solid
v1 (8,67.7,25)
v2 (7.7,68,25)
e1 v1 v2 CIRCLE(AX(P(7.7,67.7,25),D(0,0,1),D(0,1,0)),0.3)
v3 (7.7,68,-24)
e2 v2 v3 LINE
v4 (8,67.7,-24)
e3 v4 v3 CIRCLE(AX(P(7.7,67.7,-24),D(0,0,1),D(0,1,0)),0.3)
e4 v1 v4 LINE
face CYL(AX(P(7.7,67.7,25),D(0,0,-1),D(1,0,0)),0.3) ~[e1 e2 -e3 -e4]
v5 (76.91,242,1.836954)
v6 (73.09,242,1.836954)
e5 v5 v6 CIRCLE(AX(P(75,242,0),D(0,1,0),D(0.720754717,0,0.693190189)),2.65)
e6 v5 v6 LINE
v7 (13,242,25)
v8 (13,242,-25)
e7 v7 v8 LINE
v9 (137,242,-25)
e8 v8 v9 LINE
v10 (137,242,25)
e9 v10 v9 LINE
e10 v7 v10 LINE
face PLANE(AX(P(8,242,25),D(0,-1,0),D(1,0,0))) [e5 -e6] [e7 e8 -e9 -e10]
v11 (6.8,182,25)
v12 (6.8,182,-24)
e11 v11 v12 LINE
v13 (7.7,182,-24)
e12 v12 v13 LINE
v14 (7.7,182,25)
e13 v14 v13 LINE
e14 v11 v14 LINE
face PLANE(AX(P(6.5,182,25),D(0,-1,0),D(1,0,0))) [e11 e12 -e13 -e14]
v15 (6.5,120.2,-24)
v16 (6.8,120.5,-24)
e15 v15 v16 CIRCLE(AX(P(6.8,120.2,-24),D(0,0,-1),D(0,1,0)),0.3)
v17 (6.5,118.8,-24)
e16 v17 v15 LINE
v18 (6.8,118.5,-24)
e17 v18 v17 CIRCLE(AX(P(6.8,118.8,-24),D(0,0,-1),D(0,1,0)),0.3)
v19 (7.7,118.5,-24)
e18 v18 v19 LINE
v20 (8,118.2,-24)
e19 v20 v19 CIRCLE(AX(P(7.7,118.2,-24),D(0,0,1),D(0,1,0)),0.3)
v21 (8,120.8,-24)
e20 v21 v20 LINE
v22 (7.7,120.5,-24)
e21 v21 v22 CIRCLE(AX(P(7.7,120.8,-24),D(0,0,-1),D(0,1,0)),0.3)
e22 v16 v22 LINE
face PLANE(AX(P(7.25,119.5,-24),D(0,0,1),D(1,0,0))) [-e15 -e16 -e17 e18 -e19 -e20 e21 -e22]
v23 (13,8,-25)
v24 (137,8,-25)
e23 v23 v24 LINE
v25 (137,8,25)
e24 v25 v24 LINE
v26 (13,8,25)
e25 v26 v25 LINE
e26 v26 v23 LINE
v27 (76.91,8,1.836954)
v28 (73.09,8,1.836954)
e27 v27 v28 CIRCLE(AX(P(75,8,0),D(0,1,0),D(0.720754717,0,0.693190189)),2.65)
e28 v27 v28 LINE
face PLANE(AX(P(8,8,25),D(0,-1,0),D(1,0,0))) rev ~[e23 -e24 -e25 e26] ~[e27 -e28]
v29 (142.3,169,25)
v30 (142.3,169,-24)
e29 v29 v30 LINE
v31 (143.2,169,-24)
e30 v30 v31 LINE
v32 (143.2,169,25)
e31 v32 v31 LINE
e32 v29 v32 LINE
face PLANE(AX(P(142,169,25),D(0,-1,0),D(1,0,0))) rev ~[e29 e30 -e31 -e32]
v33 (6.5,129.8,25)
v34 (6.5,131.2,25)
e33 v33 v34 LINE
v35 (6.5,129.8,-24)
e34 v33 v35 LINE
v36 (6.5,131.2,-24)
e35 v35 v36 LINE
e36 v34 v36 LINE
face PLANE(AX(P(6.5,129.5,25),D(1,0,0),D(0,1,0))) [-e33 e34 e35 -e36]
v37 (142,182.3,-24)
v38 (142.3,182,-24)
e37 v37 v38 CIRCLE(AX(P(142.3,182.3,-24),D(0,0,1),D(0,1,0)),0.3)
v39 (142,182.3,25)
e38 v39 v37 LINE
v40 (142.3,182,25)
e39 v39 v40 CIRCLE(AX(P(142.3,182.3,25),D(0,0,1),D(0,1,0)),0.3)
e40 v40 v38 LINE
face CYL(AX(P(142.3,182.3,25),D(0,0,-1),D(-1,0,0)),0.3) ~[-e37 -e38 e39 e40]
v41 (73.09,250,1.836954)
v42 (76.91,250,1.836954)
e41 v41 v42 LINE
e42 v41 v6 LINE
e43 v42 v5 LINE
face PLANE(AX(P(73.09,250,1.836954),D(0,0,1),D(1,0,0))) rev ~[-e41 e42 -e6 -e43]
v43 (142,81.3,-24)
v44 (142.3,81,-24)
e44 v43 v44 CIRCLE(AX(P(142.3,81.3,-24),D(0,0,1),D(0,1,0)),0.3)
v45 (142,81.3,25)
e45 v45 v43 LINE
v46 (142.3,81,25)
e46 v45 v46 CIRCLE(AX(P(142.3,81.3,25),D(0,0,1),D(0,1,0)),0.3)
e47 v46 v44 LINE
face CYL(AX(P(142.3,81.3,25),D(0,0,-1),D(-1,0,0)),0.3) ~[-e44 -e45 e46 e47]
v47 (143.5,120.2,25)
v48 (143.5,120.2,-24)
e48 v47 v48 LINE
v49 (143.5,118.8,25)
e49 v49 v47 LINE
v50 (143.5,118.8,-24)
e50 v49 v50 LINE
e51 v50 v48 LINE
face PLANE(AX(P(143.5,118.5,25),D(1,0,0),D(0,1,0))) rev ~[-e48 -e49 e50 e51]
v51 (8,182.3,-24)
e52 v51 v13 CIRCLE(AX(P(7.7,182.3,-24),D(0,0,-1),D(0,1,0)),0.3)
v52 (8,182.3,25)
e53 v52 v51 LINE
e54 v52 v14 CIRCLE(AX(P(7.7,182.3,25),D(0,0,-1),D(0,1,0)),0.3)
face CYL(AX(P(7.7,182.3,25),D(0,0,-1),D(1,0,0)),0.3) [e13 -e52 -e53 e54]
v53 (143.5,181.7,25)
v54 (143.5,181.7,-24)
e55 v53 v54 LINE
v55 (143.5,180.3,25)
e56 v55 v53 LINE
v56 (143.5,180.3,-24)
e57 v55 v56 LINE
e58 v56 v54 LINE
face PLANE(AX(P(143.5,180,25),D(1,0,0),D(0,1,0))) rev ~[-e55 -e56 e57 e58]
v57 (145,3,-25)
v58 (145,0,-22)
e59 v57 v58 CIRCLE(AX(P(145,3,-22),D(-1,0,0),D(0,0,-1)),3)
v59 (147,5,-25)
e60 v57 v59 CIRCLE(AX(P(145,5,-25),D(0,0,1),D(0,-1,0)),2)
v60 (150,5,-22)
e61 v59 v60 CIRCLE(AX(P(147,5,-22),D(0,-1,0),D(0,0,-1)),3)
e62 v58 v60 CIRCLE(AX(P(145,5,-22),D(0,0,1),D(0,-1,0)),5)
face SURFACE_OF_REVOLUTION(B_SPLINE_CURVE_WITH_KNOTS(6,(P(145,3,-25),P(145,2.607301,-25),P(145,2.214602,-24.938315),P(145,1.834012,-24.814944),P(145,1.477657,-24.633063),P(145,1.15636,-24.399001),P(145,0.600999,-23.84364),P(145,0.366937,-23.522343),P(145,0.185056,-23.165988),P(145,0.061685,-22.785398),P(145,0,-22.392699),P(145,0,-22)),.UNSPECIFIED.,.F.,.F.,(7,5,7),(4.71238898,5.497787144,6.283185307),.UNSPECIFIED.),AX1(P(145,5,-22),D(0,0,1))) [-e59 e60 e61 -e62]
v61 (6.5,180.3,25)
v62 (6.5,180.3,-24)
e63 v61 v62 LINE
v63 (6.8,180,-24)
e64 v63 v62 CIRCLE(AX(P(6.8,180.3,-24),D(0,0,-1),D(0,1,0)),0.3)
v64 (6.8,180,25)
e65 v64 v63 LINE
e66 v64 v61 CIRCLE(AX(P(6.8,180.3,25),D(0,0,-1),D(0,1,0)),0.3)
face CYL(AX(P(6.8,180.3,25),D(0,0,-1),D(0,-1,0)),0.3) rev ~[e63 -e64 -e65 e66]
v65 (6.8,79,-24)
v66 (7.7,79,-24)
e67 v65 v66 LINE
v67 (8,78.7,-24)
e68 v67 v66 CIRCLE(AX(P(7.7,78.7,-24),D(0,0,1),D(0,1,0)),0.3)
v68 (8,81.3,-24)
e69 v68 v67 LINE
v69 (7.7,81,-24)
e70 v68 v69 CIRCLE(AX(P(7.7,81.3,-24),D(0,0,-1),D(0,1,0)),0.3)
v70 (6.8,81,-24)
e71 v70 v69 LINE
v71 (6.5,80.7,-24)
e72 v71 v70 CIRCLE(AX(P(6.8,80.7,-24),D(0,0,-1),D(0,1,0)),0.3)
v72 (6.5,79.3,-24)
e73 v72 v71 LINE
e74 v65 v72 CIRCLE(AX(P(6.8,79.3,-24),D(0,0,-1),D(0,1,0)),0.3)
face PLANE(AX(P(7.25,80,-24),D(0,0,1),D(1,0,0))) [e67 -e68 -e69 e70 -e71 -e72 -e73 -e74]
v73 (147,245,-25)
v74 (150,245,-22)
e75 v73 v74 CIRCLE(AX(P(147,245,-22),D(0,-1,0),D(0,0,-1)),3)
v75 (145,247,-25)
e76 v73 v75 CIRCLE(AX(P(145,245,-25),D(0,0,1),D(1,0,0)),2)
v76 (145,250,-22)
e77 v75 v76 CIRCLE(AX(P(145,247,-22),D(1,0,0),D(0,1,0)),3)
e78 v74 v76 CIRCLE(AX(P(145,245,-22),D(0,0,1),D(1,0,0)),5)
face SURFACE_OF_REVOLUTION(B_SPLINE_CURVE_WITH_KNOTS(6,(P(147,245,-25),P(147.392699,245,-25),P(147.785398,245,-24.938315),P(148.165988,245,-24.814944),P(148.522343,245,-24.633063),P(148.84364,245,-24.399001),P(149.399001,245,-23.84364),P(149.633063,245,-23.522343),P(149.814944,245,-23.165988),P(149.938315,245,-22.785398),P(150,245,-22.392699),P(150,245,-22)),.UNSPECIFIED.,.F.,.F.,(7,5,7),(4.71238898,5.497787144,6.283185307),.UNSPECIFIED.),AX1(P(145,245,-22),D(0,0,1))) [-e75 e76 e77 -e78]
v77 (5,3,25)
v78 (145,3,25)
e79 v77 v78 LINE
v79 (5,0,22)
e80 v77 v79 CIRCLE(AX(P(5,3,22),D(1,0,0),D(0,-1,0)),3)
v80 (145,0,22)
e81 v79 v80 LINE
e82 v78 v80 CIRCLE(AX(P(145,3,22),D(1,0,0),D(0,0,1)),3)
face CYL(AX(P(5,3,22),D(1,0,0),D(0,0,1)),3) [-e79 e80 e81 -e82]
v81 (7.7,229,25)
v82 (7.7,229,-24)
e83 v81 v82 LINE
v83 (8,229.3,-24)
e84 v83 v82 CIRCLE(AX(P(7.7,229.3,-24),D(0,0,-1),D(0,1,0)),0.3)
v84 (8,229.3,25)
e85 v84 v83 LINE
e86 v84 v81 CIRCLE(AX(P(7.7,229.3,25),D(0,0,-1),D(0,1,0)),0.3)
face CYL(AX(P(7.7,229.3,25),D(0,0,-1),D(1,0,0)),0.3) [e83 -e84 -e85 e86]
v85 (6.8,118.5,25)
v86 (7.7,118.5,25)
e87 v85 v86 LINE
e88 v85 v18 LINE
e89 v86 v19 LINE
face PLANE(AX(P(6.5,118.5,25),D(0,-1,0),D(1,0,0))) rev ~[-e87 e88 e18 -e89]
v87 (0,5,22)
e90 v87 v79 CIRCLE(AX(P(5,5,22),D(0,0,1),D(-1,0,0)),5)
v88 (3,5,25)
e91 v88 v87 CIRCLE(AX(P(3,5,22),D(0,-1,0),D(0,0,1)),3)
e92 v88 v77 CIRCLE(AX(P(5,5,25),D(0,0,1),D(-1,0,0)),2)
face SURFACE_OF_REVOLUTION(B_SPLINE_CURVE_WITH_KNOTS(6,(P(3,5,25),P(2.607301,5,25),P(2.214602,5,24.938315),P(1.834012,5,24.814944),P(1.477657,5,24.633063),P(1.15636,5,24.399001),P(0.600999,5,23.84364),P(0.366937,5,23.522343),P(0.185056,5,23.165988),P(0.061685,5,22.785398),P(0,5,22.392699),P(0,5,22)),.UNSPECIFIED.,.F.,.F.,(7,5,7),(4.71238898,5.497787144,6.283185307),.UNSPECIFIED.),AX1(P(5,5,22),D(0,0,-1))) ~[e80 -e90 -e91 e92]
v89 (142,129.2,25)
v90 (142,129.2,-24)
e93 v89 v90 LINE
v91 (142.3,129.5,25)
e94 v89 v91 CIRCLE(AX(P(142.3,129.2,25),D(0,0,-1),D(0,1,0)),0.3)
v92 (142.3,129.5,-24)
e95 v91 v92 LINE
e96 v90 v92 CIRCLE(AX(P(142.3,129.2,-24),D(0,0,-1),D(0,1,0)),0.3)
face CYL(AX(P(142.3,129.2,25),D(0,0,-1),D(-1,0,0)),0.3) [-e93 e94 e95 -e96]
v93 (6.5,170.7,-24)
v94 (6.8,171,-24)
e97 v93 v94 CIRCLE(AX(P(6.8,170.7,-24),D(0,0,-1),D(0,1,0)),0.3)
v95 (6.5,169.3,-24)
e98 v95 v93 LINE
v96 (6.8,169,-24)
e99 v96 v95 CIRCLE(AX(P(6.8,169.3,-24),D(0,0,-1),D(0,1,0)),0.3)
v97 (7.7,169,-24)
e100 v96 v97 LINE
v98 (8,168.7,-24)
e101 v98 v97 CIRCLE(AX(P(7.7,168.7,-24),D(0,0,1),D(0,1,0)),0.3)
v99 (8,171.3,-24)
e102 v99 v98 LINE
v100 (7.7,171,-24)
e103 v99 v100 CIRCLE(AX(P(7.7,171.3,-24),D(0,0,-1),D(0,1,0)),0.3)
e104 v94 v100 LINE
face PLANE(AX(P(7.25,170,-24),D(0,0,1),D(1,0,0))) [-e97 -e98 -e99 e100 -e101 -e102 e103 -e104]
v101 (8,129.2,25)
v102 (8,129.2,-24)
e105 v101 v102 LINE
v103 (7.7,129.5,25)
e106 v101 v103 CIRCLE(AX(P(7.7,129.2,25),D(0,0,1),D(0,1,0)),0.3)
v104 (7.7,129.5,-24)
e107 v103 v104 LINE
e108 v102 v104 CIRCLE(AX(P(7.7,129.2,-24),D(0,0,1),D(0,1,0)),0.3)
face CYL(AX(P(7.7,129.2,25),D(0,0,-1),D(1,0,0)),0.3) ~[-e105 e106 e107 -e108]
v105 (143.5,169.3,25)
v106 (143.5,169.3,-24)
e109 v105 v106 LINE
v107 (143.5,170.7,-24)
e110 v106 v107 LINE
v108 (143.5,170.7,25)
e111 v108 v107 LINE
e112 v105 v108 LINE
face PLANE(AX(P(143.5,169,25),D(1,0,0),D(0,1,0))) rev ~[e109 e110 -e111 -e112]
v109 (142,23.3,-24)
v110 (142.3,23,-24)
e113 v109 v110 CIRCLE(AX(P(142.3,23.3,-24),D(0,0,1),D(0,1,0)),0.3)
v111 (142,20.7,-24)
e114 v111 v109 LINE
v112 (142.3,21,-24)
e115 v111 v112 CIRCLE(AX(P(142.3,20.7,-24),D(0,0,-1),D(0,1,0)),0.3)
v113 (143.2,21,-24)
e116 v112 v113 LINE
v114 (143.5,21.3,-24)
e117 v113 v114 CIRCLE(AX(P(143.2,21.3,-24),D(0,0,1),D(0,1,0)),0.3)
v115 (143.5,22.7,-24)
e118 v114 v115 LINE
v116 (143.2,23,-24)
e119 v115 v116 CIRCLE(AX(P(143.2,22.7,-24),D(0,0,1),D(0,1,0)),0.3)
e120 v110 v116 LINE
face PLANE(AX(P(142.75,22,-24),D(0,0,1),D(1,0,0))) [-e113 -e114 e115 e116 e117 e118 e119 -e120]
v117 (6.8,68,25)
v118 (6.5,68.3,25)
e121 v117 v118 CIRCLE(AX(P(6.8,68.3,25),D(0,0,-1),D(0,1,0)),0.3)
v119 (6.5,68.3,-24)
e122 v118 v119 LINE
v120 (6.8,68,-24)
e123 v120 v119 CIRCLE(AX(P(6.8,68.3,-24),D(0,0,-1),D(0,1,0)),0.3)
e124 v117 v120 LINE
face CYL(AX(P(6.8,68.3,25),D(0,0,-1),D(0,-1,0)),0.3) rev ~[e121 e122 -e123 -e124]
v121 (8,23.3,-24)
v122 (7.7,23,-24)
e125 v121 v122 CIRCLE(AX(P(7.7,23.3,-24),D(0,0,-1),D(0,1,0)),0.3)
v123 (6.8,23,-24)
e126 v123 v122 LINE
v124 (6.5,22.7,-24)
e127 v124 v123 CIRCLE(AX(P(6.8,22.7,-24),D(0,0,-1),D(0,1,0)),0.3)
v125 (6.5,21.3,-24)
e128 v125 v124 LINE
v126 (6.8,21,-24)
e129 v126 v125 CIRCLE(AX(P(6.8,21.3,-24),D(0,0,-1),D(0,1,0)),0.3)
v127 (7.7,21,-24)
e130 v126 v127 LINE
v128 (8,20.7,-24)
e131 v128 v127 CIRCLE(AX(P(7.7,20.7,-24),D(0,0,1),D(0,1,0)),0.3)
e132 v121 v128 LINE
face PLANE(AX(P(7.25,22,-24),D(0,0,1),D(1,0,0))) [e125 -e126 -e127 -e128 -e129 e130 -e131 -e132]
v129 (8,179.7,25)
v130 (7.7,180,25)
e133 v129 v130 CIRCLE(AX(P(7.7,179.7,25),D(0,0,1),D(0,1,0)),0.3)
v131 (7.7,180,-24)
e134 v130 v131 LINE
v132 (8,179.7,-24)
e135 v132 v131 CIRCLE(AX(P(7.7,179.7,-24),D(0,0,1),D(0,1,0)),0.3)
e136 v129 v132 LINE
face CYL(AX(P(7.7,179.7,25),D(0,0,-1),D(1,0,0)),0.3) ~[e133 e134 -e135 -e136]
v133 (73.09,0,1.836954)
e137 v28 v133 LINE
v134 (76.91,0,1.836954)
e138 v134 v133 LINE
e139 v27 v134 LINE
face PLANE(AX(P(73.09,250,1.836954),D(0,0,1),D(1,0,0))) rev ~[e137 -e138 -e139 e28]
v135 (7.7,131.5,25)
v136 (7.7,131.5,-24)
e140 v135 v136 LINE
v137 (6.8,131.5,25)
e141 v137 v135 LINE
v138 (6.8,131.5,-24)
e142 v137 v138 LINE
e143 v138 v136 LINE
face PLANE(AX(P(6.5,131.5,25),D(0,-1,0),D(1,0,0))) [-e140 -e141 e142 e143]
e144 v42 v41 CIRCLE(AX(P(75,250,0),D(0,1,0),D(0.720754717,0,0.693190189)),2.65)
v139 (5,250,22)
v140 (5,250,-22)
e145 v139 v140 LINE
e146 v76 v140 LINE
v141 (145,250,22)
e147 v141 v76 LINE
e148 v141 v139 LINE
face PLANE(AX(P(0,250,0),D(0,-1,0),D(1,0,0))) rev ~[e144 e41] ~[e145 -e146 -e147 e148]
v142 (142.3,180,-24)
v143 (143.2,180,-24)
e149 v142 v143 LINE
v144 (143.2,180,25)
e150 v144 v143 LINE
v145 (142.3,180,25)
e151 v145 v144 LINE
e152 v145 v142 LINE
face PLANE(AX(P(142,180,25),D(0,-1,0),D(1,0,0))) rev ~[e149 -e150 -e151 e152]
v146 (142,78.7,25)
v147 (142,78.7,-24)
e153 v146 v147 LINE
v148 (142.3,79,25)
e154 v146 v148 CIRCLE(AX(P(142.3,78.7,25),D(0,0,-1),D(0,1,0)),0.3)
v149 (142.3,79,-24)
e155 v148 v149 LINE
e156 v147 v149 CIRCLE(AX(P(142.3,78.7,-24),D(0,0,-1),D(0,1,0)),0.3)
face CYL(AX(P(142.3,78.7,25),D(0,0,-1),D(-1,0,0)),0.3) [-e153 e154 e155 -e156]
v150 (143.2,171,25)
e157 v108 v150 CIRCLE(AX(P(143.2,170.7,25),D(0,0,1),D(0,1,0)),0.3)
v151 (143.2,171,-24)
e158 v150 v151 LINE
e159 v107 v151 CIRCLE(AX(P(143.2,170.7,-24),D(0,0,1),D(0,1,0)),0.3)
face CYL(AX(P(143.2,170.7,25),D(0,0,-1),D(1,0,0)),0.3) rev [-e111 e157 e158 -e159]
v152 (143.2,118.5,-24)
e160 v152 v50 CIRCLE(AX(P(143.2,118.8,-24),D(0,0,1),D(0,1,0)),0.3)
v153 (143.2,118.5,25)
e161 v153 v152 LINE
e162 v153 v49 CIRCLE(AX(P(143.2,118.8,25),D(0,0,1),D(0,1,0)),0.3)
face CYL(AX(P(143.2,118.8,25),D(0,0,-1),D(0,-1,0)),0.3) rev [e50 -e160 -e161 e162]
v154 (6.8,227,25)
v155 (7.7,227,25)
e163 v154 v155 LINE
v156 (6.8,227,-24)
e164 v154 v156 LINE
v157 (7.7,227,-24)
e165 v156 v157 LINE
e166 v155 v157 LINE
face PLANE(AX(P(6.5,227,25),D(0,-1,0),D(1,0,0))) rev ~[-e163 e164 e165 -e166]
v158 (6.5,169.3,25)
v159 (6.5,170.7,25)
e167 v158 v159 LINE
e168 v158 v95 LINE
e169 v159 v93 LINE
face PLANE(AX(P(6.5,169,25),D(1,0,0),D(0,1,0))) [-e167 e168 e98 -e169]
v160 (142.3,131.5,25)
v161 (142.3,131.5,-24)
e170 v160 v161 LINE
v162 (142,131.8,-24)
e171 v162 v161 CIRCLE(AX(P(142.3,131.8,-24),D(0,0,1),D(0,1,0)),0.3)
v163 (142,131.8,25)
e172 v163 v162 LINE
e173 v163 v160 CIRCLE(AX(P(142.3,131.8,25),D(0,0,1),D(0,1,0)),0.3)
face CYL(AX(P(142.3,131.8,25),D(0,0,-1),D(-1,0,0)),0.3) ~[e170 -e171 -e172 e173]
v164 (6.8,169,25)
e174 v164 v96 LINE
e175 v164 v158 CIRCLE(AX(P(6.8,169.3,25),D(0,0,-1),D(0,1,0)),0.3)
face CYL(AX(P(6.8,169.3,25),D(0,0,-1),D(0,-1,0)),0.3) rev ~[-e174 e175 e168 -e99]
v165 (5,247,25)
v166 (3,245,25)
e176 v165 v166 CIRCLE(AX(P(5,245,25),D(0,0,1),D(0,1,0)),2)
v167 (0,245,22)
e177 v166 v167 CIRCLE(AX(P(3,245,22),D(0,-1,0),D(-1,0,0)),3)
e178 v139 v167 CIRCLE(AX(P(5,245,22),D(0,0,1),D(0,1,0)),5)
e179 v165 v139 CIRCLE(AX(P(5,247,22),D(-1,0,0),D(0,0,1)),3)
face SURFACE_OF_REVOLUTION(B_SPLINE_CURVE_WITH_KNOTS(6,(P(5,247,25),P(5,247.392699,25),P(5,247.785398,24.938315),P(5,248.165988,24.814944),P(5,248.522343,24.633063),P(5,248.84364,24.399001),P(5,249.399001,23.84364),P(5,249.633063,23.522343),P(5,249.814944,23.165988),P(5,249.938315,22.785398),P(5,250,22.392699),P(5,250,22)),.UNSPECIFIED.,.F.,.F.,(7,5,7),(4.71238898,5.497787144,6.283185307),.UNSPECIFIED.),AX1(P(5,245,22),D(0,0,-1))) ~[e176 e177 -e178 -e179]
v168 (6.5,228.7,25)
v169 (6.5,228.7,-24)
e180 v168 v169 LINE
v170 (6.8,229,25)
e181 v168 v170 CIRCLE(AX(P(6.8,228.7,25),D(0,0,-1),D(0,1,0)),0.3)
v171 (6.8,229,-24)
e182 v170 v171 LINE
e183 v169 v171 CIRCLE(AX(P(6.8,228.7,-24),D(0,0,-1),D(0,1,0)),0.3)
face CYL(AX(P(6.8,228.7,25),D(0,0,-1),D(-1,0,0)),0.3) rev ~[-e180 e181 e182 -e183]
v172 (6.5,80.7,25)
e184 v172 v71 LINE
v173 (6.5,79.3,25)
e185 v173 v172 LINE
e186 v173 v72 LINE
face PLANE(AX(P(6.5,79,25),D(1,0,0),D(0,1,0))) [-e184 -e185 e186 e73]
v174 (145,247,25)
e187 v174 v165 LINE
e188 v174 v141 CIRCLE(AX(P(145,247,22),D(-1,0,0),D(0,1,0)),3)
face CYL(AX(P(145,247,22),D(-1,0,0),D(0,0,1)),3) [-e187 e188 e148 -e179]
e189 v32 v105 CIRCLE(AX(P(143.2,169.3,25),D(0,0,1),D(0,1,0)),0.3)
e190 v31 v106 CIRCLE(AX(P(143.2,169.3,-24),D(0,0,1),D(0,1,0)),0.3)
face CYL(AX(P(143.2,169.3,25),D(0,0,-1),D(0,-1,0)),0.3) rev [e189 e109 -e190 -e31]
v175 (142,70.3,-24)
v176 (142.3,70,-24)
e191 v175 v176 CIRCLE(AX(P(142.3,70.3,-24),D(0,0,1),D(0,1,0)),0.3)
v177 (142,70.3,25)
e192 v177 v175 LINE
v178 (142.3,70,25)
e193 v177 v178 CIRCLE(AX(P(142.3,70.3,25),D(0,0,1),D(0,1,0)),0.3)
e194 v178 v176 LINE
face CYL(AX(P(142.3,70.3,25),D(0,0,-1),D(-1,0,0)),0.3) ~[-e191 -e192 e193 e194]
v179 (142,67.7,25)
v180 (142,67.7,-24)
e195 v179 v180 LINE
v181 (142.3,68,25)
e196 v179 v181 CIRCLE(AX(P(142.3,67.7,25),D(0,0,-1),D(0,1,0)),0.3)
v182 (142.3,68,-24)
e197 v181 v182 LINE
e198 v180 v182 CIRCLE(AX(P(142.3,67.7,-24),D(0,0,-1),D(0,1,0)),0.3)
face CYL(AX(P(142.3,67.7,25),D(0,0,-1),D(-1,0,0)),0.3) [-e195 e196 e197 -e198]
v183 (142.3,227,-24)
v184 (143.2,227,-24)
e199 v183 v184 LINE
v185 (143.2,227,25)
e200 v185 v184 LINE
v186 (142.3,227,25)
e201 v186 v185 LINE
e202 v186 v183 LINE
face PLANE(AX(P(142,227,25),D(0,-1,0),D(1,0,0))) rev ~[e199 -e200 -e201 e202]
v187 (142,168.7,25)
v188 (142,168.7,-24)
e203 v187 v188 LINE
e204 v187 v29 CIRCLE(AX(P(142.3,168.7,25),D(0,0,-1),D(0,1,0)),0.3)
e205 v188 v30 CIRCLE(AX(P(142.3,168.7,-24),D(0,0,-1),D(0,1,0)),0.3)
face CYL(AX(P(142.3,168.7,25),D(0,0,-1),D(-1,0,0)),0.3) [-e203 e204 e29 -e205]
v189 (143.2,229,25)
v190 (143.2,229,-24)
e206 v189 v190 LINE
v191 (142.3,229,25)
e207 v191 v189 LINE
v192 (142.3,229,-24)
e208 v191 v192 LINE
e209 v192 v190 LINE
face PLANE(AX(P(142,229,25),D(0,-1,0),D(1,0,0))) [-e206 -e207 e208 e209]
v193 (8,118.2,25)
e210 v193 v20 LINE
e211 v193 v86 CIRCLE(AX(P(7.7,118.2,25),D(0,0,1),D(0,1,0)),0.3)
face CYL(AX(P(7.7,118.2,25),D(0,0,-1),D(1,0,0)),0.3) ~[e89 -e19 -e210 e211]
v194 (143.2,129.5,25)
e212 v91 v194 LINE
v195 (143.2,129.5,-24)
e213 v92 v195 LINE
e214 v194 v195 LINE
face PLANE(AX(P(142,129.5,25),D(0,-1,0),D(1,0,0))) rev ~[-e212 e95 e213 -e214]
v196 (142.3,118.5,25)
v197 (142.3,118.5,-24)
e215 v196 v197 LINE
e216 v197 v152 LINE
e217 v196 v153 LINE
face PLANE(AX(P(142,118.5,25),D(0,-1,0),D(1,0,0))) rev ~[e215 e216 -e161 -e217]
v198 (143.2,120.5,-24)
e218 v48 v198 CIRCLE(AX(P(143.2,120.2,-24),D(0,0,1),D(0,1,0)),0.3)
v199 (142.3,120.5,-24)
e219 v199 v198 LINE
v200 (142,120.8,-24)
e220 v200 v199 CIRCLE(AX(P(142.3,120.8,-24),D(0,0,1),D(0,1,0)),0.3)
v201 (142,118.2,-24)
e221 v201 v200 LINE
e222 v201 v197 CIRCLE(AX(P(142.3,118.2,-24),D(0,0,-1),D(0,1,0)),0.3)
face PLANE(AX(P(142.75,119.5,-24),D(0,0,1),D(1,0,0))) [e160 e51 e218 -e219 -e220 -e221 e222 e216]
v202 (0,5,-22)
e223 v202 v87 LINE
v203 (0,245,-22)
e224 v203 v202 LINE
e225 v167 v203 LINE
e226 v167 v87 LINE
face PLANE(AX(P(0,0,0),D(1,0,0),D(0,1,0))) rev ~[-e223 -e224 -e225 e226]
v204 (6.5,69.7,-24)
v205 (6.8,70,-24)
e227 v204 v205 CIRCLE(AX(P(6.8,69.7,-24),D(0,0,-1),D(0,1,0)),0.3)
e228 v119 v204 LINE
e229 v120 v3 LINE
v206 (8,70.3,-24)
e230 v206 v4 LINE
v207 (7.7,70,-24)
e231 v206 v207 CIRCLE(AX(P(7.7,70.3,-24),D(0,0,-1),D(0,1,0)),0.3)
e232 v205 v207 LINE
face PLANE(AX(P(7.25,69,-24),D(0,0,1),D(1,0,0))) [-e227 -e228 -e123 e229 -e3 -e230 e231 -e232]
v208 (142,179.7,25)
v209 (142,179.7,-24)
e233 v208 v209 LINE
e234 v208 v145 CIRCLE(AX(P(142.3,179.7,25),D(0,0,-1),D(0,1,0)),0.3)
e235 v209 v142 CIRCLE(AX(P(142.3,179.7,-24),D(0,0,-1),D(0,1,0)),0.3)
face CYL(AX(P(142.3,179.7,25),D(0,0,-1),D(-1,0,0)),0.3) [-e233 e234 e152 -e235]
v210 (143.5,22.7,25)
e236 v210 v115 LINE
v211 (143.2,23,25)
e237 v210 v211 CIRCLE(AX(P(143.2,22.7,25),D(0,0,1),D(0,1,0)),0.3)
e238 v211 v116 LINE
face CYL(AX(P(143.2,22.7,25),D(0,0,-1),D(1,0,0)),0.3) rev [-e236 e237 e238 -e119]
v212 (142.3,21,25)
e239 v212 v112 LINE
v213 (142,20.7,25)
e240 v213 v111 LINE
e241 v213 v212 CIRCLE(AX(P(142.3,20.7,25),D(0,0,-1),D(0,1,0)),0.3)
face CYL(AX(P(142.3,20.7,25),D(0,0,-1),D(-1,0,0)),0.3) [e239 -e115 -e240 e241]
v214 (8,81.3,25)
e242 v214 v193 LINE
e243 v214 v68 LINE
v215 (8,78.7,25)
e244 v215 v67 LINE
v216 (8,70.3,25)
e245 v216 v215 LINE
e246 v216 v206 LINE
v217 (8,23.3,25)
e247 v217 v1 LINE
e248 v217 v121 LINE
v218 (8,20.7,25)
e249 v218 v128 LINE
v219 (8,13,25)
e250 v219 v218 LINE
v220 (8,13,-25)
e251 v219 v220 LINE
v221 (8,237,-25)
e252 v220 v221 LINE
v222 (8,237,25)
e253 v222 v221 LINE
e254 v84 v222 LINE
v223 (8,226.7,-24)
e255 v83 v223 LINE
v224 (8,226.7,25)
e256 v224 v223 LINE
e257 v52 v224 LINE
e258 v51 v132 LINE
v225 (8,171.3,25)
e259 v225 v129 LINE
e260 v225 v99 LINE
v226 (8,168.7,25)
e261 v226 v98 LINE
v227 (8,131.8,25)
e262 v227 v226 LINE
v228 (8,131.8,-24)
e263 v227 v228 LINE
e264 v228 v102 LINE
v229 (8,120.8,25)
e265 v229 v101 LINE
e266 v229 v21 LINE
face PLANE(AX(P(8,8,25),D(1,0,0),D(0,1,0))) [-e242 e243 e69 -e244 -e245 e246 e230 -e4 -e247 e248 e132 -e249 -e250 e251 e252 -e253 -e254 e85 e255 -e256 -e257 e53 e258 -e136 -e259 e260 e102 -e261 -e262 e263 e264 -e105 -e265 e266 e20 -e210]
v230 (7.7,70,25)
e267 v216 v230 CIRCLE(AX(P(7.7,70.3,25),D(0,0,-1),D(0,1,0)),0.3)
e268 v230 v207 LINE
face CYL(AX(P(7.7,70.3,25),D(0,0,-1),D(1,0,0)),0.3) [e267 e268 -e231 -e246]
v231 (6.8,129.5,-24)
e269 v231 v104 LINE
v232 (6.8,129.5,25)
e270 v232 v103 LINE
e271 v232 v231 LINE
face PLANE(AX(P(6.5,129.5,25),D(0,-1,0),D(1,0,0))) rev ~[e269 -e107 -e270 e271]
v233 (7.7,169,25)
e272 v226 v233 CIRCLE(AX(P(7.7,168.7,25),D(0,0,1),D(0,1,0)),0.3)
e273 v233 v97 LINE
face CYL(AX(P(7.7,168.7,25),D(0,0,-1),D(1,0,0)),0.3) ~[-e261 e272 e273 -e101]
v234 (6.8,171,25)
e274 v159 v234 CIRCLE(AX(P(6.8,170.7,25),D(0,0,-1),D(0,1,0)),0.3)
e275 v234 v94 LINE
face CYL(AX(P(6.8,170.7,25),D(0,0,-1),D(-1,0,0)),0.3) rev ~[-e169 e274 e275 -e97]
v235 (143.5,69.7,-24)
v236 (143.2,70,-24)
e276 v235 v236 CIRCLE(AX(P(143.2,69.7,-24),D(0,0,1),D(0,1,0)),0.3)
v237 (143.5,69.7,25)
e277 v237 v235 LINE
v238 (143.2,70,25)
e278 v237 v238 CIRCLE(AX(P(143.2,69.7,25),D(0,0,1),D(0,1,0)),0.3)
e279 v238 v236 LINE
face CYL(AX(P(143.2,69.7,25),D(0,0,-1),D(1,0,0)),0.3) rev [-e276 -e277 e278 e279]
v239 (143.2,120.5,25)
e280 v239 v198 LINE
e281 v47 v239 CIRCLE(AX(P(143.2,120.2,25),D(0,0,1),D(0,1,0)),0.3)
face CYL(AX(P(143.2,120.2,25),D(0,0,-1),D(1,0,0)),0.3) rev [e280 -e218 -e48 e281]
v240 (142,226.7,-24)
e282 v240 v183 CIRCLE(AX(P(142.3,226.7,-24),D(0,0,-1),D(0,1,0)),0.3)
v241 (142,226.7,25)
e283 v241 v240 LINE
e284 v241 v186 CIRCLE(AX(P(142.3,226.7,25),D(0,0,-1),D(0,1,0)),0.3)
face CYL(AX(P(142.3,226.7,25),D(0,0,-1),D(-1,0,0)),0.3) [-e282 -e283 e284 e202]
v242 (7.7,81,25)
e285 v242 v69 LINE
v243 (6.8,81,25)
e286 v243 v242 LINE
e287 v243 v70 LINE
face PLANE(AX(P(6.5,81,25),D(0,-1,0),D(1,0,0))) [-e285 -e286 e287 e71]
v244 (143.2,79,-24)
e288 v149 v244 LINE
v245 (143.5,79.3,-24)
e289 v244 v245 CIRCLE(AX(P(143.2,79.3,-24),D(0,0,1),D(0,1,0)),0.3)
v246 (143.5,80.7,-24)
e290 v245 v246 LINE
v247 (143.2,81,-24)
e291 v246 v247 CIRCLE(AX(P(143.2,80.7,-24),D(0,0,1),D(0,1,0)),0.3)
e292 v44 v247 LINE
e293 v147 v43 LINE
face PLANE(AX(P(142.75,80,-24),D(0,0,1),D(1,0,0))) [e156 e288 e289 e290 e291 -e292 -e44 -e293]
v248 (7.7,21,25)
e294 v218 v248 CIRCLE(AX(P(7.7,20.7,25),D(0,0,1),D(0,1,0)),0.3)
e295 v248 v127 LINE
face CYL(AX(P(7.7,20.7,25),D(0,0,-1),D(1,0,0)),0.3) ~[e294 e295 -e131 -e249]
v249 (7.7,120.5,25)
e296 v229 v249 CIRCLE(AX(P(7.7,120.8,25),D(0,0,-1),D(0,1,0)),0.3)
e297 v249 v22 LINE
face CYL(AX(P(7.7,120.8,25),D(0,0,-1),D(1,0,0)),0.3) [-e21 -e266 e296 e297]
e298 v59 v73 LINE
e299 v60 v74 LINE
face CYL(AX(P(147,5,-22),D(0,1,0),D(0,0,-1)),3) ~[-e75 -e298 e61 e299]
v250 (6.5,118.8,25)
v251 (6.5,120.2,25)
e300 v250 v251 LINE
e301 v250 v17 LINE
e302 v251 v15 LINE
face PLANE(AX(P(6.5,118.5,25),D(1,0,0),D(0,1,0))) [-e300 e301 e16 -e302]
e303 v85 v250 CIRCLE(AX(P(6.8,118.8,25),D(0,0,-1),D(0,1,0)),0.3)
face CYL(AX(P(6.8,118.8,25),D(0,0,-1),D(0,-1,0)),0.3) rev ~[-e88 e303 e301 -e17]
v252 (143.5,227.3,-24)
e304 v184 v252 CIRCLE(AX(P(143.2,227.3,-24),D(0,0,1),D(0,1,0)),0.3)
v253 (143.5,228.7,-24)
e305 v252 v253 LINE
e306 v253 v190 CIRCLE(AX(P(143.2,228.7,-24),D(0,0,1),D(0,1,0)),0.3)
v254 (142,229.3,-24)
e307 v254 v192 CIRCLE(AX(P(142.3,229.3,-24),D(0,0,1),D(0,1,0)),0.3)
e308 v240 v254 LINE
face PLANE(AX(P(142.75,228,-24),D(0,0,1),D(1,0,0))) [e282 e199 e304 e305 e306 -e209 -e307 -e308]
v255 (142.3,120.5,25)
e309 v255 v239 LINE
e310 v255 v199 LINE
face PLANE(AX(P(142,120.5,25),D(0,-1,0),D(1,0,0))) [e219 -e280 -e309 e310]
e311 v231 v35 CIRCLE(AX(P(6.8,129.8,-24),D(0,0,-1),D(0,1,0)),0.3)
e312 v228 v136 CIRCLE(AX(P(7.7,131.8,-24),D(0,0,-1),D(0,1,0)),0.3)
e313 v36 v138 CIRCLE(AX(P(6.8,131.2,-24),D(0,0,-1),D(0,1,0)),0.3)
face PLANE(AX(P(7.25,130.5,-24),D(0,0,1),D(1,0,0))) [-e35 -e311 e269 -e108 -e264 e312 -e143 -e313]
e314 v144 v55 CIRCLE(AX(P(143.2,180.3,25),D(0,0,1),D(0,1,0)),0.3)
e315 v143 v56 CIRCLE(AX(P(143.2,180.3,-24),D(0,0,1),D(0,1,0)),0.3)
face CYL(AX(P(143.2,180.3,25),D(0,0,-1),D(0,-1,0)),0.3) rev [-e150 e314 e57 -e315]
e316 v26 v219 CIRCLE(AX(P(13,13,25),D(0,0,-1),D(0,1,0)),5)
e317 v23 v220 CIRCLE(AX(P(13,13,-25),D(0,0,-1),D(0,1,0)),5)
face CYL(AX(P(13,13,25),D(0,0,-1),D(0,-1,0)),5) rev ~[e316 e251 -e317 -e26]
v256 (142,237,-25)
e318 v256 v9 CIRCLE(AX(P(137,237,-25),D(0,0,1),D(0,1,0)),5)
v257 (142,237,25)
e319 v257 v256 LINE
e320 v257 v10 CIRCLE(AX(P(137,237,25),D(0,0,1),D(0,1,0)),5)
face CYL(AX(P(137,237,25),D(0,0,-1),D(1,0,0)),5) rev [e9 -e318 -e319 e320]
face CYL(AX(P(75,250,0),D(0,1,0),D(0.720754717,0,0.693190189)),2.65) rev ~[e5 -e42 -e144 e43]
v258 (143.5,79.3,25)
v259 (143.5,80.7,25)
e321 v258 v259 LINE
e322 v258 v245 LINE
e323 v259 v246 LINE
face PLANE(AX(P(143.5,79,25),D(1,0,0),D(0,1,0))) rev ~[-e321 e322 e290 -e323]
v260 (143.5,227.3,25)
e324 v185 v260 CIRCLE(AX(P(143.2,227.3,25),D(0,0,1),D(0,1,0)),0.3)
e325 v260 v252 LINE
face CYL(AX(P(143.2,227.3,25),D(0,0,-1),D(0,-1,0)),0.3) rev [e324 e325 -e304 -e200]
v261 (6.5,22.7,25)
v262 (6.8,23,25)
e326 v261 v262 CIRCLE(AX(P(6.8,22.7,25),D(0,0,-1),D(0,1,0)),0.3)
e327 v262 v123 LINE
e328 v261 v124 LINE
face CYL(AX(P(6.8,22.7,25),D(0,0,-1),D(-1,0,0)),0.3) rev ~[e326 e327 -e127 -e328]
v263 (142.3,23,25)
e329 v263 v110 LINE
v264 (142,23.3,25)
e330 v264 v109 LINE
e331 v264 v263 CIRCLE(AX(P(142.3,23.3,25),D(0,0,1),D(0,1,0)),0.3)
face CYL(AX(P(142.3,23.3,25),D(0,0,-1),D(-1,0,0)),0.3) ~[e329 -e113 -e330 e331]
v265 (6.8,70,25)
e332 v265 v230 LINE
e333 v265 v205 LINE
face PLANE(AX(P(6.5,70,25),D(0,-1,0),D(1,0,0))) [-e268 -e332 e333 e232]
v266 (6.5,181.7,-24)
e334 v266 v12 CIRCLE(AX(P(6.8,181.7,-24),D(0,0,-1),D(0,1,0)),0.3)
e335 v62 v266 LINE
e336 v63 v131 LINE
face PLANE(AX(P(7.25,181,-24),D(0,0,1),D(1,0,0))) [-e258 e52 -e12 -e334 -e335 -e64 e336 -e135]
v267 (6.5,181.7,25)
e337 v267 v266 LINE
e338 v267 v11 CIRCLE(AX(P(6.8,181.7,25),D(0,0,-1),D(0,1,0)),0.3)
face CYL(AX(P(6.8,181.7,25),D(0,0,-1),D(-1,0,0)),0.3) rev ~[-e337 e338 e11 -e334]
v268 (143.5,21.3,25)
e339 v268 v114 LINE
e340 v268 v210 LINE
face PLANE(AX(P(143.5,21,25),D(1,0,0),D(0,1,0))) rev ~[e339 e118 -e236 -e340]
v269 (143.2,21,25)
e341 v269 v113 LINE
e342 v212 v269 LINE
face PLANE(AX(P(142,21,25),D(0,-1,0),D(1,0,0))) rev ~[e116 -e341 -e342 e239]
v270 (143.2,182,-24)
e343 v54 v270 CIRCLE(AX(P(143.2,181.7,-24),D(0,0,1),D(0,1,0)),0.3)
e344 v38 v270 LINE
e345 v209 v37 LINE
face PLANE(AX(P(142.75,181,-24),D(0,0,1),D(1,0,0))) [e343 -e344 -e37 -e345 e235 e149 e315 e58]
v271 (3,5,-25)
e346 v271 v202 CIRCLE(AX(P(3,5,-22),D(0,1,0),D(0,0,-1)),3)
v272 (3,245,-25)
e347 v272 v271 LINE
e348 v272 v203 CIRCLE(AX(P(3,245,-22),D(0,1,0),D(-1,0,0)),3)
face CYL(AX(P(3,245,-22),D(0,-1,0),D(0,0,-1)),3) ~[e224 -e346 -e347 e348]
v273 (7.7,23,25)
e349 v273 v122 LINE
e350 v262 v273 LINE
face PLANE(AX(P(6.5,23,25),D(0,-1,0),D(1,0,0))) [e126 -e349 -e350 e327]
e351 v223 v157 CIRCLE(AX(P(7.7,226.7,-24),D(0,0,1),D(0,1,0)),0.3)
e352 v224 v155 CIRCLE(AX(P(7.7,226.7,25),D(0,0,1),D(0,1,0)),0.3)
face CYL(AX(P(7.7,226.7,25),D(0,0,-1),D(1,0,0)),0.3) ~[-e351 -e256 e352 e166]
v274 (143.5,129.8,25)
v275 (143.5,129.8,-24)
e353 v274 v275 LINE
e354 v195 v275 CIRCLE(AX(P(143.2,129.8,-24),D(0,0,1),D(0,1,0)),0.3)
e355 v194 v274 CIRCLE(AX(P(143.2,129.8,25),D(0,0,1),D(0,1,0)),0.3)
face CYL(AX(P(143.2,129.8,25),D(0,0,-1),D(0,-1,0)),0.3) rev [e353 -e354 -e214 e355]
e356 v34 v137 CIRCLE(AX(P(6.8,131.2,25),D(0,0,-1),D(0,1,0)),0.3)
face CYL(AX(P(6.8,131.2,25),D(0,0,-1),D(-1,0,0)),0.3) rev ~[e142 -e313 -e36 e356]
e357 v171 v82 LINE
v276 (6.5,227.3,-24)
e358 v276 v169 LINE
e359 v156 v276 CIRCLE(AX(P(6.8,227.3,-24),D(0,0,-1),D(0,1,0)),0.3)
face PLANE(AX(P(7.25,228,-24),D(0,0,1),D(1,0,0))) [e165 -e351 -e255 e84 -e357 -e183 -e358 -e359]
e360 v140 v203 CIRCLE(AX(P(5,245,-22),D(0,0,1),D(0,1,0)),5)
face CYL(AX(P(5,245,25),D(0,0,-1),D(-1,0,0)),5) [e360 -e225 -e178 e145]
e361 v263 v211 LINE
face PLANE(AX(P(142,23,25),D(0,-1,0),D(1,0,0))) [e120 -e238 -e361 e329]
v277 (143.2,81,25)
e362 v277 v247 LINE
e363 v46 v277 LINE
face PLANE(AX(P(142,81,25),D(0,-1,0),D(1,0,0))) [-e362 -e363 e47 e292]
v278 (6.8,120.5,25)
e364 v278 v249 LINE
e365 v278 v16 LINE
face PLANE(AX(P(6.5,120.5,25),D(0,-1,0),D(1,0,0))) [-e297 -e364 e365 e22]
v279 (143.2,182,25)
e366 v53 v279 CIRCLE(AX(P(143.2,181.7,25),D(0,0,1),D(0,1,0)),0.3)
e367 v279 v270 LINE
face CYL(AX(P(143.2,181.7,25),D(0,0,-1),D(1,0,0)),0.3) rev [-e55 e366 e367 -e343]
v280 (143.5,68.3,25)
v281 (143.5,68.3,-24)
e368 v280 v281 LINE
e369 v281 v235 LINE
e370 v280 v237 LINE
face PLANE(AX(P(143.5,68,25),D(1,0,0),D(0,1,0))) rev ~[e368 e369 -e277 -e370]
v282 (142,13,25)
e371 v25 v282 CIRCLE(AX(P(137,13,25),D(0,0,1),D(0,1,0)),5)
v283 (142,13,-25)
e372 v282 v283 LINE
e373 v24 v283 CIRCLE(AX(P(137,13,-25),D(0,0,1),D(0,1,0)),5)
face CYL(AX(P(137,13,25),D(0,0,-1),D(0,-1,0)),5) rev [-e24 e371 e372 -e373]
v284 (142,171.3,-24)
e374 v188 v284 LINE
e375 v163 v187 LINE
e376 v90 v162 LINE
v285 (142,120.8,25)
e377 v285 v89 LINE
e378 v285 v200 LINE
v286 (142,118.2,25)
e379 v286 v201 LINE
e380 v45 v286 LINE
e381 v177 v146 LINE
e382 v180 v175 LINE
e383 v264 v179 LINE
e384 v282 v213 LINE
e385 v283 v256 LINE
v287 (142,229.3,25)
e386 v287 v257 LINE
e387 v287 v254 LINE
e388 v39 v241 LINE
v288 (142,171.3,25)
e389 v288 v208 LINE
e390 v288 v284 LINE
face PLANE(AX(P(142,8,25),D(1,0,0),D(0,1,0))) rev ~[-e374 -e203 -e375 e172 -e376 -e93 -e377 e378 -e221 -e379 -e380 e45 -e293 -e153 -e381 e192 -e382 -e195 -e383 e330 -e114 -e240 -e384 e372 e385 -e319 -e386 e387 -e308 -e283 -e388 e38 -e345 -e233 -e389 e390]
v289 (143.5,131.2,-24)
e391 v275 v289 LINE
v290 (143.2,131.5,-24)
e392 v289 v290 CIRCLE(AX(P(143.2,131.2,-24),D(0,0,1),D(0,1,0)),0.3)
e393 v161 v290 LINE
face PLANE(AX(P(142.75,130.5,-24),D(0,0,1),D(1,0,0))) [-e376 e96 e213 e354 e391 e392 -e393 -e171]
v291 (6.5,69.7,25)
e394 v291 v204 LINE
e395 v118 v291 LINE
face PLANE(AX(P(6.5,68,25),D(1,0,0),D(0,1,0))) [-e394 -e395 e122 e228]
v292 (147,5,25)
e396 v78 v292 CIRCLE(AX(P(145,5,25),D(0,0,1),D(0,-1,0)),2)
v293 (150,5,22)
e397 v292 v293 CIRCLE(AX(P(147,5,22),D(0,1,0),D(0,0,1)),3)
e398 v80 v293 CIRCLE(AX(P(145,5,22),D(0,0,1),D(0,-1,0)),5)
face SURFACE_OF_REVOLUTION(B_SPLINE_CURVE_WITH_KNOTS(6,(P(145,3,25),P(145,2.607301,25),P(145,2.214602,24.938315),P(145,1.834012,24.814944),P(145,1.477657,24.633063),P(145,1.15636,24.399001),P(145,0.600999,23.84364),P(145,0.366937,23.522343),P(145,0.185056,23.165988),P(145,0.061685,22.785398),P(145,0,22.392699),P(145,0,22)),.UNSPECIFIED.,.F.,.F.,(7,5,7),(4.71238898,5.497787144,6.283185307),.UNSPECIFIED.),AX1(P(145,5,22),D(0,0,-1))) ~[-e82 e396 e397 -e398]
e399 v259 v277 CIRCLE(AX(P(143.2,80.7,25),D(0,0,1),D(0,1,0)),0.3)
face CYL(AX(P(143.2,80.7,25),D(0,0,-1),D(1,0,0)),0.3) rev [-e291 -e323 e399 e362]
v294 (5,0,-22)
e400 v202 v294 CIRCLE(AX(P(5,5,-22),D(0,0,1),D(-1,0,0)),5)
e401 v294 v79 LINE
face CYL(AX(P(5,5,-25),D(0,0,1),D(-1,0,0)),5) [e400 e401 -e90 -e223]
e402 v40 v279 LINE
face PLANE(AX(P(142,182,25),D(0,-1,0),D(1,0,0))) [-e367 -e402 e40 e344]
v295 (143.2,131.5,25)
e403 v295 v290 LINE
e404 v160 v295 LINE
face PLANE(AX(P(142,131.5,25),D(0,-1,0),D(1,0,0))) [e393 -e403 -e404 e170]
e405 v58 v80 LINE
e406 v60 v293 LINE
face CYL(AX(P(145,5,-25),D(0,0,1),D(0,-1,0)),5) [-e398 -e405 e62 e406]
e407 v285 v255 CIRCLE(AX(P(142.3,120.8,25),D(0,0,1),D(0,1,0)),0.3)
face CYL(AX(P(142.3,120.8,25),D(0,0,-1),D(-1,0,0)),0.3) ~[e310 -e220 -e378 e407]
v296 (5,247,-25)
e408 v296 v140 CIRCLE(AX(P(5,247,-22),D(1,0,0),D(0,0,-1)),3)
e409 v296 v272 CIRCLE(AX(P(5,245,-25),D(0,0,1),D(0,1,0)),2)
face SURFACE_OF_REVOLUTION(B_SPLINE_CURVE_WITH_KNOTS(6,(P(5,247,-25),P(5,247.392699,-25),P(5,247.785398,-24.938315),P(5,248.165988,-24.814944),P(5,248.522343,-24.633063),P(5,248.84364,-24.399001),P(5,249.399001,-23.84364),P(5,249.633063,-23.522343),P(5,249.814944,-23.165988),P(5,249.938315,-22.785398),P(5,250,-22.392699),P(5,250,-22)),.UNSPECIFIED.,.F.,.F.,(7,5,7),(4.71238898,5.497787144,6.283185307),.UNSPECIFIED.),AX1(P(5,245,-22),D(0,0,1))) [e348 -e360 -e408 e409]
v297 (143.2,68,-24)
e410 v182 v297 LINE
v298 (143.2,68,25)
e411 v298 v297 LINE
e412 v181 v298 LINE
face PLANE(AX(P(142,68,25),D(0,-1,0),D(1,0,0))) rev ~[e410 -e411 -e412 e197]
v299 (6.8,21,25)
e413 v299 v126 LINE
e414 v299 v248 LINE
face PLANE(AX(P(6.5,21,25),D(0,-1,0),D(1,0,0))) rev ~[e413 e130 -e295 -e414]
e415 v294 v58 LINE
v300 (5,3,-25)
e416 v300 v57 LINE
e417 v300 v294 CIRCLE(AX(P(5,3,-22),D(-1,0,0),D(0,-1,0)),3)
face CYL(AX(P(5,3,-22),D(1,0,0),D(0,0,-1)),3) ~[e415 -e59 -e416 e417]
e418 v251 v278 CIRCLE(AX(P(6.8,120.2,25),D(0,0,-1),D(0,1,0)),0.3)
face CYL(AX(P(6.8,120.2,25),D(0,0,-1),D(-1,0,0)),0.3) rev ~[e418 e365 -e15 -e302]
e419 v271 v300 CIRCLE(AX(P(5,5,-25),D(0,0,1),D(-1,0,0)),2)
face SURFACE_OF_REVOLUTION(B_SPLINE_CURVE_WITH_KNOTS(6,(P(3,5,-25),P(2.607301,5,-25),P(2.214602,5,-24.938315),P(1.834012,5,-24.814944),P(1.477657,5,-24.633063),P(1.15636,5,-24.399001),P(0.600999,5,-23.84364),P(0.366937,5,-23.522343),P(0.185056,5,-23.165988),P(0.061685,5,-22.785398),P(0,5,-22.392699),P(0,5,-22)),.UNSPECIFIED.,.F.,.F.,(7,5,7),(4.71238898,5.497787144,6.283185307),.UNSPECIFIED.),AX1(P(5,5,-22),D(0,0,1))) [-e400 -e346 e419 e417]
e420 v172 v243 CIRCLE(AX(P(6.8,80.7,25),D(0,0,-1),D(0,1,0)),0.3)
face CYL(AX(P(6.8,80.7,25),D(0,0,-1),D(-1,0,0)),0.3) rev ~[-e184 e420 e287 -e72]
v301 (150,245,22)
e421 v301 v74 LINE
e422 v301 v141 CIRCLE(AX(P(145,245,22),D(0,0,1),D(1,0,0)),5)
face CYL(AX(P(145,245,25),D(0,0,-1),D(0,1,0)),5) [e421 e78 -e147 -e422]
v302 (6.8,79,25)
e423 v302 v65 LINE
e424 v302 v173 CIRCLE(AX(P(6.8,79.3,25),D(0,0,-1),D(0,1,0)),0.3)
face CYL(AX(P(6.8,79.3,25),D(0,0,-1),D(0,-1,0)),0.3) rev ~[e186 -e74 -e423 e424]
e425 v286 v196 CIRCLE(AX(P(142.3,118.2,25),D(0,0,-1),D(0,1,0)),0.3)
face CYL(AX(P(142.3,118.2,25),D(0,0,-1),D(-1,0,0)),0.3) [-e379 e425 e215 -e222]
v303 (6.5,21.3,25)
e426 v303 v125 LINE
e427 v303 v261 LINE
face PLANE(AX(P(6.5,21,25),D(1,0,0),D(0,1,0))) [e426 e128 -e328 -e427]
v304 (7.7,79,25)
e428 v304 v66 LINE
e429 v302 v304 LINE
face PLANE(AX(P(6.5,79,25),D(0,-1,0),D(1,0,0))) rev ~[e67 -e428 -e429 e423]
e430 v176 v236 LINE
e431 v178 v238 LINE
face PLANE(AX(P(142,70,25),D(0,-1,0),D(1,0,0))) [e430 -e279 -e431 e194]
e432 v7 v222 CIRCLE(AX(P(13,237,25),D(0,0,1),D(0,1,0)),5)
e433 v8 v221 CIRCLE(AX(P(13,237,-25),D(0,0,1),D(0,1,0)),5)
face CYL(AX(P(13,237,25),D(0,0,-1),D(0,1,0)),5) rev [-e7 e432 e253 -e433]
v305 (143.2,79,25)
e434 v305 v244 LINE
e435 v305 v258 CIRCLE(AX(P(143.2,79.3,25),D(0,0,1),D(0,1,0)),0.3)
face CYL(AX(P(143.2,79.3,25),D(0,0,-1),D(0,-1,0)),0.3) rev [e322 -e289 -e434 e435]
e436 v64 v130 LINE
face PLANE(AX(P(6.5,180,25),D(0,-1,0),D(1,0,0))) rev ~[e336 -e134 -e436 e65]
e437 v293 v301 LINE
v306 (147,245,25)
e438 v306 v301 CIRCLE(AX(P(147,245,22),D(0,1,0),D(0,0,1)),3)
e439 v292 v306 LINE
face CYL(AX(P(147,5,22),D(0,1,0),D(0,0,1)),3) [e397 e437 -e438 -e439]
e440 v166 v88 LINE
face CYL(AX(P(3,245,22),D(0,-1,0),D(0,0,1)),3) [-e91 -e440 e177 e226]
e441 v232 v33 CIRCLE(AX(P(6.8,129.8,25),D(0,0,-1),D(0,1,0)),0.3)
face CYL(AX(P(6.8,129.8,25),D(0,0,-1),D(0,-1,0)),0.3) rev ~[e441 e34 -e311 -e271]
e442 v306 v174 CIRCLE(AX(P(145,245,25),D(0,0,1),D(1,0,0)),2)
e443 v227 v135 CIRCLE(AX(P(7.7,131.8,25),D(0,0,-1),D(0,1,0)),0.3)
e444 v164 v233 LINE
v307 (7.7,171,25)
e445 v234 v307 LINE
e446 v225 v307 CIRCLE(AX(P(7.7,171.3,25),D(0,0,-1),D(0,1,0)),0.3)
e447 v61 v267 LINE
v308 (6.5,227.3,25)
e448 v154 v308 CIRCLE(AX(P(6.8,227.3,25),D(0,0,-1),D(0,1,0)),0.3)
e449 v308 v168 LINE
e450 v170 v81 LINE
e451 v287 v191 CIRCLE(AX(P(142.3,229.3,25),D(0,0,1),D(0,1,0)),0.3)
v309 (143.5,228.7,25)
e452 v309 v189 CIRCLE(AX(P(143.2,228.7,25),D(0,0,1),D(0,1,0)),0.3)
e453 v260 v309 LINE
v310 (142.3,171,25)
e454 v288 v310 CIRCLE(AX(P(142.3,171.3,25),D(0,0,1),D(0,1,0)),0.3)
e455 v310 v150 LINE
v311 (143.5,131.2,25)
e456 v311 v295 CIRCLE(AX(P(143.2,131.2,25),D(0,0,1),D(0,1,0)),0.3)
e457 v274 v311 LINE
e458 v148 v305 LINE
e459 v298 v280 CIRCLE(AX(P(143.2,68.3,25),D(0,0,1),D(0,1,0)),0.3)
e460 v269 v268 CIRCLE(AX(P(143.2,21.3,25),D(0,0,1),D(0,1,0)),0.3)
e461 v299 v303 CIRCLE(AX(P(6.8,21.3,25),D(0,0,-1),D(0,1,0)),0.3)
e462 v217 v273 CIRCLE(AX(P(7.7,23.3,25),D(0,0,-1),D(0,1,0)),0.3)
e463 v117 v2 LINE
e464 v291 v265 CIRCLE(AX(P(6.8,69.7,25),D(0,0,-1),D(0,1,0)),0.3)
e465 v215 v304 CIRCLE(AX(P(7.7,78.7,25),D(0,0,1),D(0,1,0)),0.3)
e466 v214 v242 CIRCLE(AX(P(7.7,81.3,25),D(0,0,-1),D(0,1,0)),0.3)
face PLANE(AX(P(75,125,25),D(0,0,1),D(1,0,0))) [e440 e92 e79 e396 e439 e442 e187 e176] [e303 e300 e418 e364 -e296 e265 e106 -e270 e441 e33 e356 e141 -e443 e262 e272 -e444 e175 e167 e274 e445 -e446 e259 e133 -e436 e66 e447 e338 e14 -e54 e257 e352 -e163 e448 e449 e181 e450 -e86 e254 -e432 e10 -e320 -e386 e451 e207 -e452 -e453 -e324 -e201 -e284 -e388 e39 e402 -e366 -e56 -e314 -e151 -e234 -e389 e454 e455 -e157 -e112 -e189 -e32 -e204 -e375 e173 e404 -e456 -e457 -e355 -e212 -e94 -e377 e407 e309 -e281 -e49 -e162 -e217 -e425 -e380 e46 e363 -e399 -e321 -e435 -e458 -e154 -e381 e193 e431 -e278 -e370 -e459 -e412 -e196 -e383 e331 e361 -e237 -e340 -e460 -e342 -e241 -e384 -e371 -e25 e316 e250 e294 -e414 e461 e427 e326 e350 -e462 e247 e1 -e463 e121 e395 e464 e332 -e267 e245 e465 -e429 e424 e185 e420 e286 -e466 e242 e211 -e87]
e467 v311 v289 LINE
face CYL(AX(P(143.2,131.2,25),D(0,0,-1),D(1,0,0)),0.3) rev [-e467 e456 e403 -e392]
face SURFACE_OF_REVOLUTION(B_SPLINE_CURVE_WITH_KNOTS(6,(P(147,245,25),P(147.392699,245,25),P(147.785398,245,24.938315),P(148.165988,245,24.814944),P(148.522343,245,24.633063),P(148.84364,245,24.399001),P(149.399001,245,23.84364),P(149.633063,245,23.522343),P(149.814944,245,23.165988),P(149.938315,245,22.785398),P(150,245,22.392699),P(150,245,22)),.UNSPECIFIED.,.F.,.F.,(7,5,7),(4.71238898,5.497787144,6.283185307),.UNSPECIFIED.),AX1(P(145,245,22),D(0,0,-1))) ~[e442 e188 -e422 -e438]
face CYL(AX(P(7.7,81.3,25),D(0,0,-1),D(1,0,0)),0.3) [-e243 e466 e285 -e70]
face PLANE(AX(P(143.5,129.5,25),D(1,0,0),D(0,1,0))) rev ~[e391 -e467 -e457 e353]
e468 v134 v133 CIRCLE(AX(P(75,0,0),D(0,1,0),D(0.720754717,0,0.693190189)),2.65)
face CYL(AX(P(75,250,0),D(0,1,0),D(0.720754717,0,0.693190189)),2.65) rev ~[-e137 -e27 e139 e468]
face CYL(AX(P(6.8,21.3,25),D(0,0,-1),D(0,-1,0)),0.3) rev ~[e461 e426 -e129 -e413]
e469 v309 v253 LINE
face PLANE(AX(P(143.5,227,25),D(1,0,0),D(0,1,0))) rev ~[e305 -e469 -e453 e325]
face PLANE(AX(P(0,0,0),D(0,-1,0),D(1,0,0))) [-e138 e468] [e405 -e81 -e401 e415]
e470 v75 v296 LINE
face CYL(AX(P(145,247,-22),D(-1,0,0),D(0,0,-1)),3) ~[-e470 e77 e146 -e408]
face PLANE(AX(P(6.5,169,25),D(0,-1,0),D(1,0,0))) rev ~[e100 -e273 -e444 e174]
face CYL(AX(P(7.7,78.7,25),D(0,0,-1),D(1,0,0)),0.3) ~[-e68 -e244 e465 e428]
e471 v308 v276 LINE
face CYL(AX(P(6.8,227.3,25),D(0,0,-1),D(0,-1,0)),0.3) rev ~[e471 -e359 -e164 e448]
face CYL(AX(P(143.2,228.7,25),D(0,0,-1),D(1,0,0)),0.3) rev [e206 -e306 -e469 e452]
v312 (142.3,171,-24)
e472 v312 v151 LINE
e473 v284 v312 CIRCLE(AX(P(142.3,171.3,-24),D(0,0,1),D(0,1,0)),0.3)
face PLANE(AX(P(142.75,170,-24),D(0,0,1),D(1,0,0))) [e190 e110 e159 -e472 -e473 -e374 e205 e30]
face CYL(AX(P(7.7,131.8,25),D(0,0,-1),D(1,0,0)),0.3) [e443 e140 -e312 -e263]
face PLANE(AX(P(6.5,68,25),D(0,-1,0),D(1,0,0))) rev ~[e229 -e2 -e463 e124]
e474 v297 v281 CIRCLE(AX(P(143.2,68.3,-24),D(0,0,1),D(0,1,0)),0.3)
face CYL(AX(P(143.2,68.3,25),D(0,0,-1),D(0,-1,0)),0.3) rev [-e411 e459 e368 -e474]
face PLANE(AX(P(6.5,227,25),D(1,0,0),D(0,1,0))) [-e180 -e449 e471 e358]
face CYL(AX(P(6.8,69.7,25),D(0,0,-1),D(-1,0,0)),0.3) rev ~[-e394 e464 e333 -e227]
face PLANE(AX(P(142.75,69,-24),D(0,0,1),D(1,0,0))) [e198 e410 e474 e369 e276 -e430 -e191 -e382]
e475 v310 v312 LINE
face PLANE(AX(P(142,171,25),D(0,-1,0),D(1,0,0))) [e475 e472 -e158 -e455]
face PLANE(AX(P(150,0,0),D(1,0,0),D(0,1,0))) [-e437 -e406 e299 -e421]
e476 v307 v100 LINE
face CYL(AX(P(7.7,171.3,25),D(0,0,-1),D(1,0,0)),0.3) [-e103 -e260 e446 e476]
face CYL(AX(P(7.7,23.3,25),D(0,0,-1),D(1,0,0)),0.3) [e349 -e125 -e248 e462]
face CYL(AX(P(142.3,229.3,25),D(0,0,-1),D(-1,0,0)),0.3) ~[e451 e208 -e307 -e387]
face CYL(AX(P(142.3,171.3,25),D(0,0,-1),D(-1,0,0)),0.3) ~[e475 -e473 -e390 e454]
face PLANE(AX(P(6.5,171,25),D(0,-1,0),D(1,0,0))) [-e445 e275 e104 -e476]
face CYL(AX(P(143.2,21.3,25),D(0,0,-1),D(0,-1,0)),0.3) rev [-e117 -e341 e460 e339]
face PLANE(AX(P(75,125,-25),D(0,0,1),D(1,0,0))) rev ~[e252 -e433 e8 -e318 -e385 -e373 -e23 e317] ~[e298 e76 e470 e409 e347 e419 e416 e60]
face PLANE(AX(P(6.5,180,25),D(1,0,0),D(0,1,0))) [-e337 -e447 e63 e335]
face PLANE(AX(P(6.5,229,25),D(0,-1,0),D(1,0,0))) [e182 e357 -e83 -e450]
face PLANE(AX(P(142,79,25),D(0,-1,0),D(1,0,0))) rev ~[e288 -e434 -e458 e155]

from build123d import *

# Parameters (mm, degrees)
SKETCH1_W           = 150
SKETCH1_H           = 250
BOSS_EXTRUDE1_DEPTH = 25
SKETCH2_W           = 134
SKETCH2_H           = 234
CUT_EXTRUDE1_DEPTH  = 51
CUT_EXTRUDE2_DEPTH  = 251
SKETCH7_W           = 1.5
SKETCH7_H           = 2
CUT_EXTRUDE5_DEPTH  = 49
FILLET1_R           = 5
FILLET2_R           = 3
FILLET3_R           = 0.3


with BuildPart() as part:
    # Sketch1 → Boss-Extrude1 (new body, symmetric)
    with BuildSketch(Plane.XY):
        with Locations((75, 125)):
            Rectangle(SKETCH1_W, SKETCH1_H)
    extrude(amount=BOSS_EXTRUDE1_DEPTH, both=True)

    # Sketch2 → Cut-Extrude1 (cut, through all)
    with BuildSketch(Plane.XY.offset(25)):
        with Locations((75, 125)):
            Rectangle(SKETCH2_W, SKETCH2_H)
    extrude(amount=-CUT_EXTRUDE1_DEPTH, mode=Mode.SUBTRACT)

    # Sketch3 → Cut-Extrude2 (cut, through all)
    with BuildSketch(Plane(origin=(0, 250, 0), x_dir=(1, 0, 0), z_dir=(0, 1, 0))):
        with BuildLine():
            Line((73.09, -1.836954001), (76.91, -1.836954001))
            ThreePointArc((76.91, -1.836954001), (75, 2.65), (73.09, -1.836954001))
        make_face()
    extrude(amount=-CUT_EXTRUDE2_DEPTH, mode=Mode.SUBTRACT)

    # Sketch7 → Cut-Extrude5 (cut)
    with BuildSketch(Plane.XY.offset(25)):
        with Locations((7.25, 181)):
            Rectangle(SKETCH7_W, SKETCH7_H)
        with Locations((7.25, 228)):
            Rectangle(SKETCH7_W, SKETCH7_H)
        with Locations((7.25, 170)):
            Rectangle(SKETCH7_W, SKETCH7_H)
        with Locations((7.25, 80)):
            Rectangle(SKETCH7_W, SKETCH7_H)
        with Locations((7.25, 22)):
            Rectangle(SKETCH7_W, SKETCH7_H)
        with Locations((7.25, 69)):
            Rectangle(SKETCH7_W, SKETCH7_H)
        with Locations((7.25, 130.5)):
            Rectangle(SKETCH7_W, SKETCH7_H)
        with Locations((7.25, 119.5)):
            Rectangle(SKETCH7_W, SKETCH7_H)
        with Locations((142.75, 119.5)):
            Rectangle(SKETCH7_W, SKETCH7_H)
        with Locations((142.75, 130.5)):
            Rectangle(SKETCH7_W, SKETCH7_H)
        with Locations((142.75, 69)):
            Rectangle(SKETCH7_W, SKETCH7_H)
        with Locations((142.75, 22)):
            Rectangle(SKETCH7_W, SKETCH7_H)
        with Locations((142.75, 80)):
            Rectangle(SKETCH7_W, SKETCH7_H)
        with Locations((142.75, 170)):
            Rectangle(SKETCH7_W, SKETCH7_H)
        with Locations((142.75, 181)):
            Rectangle(SKETCH7_W, SKETCH7_H)
        with Locations((142.75, 228)):
            Rectangle(SKETCH7_W, SKETCH7_H)
    extrude(amount=-CUT_EXTRUDE5_DEPTH, mode=Mode.SUBTRACT)

    # Fillet1
    fillet1_edges = [part.edges().sort_by_distance(p)[0] for p in [
        (142, 242, 0),
        (142, 8, 0),
        (8, 8, 0),
        (8, 242, 0),
        (0, 250, 0),
        (150, 250, 0),
        (150, 0, 0),
        (0, 0, 0),
    ]]
    fillet(fillet1_edges, radius=FILLET1_R)

    # Fillet2
    fillet2_edges = [part.edges().sort_by_distance(p)[0] for p in [
        (150, 125, -25),
        (150, 125, 25),
        (0, 125, -25),
        (75, 250, -25),
        (75, 0, -25),
        (1.464466094, 248.535533906, -25),
        (148.535533906, 248.535533906, -25),
        (1.464466094, 1.464466094, -25),
        (148.535533906, 1.464466094, -25),
        (75, 0, 25),
        (0, 125, 25),
        (75, 250, 25),
        (1.464466094, 248.535533906, 25),
        (148.535533906, 248.535533906, 25),
        (1.464466094, 1.464466094, 25),
        (148.535533906, 1.464466094, 25),
    ]]
    fillet(fillet2_edges, radius=FILLET2_R)

    # Fillet3
    fillet3_edges = [part.edges().sort_by_distance(p)[0] for p in [
        (6.5, 70, 0.5),
        (8, 70, 0.5),
        (6.5, 129.5, 0.5),
        (6.5, 131.5, 0.5),
        (8, 131.5, 0.5),
        (8, 129.5, 0.5),
        (6.5, 118.5, 0.5),
        (6.5, 120.5, 0.5),
        (8, 120.5, 0.5),
        (8, 118.5, 0.5),
        (143.5, 131.5, 0.5),
        (143.5, 129.5, 0.5),
        (142, 129.5, 0.5),
        (142, 131.5, 0.5),
        (8, 21, 0.5),
        (6.5, 21, 0.5),
        (6.5, 23, 0.5),
        (8, 23, 0.5),
        (6.5, 79, 0.5),
        (6.5, 81, 0.5),
        (8, 81, 0.5),
        (8, 79, 0.5),
        (6.5, 169, 0.5),
        (6.5, 171, 0.5),
        (8, 171, 0.5),
        (8, 169, 0.5),
        (6.5, 227, 0.5),
        (6.5, 229, 0.5),
        (8, 229, 0.5),
        (8, 227, 0.5),
        (143.5, 81, 0.5),
        (143.5, 79, 0.5),
        (142, 79, 0.5),
        (142, 81, 0.5),
        (143.5, 23, 0.5),
        (143.5, 21, 0.5),
        (142, 21, 0.5),
        (142, 23, 0.5),
        (143.5, 70, 0.5),
        (143.5, 68, 0.5),
        (142, 68, 0.5),
        (142, 70, 0.5),
        (142, 120.5, 0.5),
        (143.5, 120.5, 0.5),
        (143.5, 118.5, 0.5),
        (142, 118.5, 0.5),
        (142, 171, 0.5),
        (143.5, 171, 0.5),
        (143.5, 169, 0.5),
        (142, 169, 0.5),
        (142, 182, 0.5),
        (143.5, 182, 0.5),
        (143.5, 180, 0.5),
        (142, 180, 0.5),
        (142, 229, 0.5),
        (143.5, 229, 0.5),
        (143.5, 227, 0.5),
        (142, 227, 0.5),
        (6.5, 180, 0.5),
        (6.5, 182, 0.5),
        (8, 182, 0.5),
        (8, 180, 0.5),
        (8, 68, 0.5),
        (6.5, 68, 0.5),
    ]]
    fillet(fillet3_edges, radius=FILLET3_R)


solid = part.part
